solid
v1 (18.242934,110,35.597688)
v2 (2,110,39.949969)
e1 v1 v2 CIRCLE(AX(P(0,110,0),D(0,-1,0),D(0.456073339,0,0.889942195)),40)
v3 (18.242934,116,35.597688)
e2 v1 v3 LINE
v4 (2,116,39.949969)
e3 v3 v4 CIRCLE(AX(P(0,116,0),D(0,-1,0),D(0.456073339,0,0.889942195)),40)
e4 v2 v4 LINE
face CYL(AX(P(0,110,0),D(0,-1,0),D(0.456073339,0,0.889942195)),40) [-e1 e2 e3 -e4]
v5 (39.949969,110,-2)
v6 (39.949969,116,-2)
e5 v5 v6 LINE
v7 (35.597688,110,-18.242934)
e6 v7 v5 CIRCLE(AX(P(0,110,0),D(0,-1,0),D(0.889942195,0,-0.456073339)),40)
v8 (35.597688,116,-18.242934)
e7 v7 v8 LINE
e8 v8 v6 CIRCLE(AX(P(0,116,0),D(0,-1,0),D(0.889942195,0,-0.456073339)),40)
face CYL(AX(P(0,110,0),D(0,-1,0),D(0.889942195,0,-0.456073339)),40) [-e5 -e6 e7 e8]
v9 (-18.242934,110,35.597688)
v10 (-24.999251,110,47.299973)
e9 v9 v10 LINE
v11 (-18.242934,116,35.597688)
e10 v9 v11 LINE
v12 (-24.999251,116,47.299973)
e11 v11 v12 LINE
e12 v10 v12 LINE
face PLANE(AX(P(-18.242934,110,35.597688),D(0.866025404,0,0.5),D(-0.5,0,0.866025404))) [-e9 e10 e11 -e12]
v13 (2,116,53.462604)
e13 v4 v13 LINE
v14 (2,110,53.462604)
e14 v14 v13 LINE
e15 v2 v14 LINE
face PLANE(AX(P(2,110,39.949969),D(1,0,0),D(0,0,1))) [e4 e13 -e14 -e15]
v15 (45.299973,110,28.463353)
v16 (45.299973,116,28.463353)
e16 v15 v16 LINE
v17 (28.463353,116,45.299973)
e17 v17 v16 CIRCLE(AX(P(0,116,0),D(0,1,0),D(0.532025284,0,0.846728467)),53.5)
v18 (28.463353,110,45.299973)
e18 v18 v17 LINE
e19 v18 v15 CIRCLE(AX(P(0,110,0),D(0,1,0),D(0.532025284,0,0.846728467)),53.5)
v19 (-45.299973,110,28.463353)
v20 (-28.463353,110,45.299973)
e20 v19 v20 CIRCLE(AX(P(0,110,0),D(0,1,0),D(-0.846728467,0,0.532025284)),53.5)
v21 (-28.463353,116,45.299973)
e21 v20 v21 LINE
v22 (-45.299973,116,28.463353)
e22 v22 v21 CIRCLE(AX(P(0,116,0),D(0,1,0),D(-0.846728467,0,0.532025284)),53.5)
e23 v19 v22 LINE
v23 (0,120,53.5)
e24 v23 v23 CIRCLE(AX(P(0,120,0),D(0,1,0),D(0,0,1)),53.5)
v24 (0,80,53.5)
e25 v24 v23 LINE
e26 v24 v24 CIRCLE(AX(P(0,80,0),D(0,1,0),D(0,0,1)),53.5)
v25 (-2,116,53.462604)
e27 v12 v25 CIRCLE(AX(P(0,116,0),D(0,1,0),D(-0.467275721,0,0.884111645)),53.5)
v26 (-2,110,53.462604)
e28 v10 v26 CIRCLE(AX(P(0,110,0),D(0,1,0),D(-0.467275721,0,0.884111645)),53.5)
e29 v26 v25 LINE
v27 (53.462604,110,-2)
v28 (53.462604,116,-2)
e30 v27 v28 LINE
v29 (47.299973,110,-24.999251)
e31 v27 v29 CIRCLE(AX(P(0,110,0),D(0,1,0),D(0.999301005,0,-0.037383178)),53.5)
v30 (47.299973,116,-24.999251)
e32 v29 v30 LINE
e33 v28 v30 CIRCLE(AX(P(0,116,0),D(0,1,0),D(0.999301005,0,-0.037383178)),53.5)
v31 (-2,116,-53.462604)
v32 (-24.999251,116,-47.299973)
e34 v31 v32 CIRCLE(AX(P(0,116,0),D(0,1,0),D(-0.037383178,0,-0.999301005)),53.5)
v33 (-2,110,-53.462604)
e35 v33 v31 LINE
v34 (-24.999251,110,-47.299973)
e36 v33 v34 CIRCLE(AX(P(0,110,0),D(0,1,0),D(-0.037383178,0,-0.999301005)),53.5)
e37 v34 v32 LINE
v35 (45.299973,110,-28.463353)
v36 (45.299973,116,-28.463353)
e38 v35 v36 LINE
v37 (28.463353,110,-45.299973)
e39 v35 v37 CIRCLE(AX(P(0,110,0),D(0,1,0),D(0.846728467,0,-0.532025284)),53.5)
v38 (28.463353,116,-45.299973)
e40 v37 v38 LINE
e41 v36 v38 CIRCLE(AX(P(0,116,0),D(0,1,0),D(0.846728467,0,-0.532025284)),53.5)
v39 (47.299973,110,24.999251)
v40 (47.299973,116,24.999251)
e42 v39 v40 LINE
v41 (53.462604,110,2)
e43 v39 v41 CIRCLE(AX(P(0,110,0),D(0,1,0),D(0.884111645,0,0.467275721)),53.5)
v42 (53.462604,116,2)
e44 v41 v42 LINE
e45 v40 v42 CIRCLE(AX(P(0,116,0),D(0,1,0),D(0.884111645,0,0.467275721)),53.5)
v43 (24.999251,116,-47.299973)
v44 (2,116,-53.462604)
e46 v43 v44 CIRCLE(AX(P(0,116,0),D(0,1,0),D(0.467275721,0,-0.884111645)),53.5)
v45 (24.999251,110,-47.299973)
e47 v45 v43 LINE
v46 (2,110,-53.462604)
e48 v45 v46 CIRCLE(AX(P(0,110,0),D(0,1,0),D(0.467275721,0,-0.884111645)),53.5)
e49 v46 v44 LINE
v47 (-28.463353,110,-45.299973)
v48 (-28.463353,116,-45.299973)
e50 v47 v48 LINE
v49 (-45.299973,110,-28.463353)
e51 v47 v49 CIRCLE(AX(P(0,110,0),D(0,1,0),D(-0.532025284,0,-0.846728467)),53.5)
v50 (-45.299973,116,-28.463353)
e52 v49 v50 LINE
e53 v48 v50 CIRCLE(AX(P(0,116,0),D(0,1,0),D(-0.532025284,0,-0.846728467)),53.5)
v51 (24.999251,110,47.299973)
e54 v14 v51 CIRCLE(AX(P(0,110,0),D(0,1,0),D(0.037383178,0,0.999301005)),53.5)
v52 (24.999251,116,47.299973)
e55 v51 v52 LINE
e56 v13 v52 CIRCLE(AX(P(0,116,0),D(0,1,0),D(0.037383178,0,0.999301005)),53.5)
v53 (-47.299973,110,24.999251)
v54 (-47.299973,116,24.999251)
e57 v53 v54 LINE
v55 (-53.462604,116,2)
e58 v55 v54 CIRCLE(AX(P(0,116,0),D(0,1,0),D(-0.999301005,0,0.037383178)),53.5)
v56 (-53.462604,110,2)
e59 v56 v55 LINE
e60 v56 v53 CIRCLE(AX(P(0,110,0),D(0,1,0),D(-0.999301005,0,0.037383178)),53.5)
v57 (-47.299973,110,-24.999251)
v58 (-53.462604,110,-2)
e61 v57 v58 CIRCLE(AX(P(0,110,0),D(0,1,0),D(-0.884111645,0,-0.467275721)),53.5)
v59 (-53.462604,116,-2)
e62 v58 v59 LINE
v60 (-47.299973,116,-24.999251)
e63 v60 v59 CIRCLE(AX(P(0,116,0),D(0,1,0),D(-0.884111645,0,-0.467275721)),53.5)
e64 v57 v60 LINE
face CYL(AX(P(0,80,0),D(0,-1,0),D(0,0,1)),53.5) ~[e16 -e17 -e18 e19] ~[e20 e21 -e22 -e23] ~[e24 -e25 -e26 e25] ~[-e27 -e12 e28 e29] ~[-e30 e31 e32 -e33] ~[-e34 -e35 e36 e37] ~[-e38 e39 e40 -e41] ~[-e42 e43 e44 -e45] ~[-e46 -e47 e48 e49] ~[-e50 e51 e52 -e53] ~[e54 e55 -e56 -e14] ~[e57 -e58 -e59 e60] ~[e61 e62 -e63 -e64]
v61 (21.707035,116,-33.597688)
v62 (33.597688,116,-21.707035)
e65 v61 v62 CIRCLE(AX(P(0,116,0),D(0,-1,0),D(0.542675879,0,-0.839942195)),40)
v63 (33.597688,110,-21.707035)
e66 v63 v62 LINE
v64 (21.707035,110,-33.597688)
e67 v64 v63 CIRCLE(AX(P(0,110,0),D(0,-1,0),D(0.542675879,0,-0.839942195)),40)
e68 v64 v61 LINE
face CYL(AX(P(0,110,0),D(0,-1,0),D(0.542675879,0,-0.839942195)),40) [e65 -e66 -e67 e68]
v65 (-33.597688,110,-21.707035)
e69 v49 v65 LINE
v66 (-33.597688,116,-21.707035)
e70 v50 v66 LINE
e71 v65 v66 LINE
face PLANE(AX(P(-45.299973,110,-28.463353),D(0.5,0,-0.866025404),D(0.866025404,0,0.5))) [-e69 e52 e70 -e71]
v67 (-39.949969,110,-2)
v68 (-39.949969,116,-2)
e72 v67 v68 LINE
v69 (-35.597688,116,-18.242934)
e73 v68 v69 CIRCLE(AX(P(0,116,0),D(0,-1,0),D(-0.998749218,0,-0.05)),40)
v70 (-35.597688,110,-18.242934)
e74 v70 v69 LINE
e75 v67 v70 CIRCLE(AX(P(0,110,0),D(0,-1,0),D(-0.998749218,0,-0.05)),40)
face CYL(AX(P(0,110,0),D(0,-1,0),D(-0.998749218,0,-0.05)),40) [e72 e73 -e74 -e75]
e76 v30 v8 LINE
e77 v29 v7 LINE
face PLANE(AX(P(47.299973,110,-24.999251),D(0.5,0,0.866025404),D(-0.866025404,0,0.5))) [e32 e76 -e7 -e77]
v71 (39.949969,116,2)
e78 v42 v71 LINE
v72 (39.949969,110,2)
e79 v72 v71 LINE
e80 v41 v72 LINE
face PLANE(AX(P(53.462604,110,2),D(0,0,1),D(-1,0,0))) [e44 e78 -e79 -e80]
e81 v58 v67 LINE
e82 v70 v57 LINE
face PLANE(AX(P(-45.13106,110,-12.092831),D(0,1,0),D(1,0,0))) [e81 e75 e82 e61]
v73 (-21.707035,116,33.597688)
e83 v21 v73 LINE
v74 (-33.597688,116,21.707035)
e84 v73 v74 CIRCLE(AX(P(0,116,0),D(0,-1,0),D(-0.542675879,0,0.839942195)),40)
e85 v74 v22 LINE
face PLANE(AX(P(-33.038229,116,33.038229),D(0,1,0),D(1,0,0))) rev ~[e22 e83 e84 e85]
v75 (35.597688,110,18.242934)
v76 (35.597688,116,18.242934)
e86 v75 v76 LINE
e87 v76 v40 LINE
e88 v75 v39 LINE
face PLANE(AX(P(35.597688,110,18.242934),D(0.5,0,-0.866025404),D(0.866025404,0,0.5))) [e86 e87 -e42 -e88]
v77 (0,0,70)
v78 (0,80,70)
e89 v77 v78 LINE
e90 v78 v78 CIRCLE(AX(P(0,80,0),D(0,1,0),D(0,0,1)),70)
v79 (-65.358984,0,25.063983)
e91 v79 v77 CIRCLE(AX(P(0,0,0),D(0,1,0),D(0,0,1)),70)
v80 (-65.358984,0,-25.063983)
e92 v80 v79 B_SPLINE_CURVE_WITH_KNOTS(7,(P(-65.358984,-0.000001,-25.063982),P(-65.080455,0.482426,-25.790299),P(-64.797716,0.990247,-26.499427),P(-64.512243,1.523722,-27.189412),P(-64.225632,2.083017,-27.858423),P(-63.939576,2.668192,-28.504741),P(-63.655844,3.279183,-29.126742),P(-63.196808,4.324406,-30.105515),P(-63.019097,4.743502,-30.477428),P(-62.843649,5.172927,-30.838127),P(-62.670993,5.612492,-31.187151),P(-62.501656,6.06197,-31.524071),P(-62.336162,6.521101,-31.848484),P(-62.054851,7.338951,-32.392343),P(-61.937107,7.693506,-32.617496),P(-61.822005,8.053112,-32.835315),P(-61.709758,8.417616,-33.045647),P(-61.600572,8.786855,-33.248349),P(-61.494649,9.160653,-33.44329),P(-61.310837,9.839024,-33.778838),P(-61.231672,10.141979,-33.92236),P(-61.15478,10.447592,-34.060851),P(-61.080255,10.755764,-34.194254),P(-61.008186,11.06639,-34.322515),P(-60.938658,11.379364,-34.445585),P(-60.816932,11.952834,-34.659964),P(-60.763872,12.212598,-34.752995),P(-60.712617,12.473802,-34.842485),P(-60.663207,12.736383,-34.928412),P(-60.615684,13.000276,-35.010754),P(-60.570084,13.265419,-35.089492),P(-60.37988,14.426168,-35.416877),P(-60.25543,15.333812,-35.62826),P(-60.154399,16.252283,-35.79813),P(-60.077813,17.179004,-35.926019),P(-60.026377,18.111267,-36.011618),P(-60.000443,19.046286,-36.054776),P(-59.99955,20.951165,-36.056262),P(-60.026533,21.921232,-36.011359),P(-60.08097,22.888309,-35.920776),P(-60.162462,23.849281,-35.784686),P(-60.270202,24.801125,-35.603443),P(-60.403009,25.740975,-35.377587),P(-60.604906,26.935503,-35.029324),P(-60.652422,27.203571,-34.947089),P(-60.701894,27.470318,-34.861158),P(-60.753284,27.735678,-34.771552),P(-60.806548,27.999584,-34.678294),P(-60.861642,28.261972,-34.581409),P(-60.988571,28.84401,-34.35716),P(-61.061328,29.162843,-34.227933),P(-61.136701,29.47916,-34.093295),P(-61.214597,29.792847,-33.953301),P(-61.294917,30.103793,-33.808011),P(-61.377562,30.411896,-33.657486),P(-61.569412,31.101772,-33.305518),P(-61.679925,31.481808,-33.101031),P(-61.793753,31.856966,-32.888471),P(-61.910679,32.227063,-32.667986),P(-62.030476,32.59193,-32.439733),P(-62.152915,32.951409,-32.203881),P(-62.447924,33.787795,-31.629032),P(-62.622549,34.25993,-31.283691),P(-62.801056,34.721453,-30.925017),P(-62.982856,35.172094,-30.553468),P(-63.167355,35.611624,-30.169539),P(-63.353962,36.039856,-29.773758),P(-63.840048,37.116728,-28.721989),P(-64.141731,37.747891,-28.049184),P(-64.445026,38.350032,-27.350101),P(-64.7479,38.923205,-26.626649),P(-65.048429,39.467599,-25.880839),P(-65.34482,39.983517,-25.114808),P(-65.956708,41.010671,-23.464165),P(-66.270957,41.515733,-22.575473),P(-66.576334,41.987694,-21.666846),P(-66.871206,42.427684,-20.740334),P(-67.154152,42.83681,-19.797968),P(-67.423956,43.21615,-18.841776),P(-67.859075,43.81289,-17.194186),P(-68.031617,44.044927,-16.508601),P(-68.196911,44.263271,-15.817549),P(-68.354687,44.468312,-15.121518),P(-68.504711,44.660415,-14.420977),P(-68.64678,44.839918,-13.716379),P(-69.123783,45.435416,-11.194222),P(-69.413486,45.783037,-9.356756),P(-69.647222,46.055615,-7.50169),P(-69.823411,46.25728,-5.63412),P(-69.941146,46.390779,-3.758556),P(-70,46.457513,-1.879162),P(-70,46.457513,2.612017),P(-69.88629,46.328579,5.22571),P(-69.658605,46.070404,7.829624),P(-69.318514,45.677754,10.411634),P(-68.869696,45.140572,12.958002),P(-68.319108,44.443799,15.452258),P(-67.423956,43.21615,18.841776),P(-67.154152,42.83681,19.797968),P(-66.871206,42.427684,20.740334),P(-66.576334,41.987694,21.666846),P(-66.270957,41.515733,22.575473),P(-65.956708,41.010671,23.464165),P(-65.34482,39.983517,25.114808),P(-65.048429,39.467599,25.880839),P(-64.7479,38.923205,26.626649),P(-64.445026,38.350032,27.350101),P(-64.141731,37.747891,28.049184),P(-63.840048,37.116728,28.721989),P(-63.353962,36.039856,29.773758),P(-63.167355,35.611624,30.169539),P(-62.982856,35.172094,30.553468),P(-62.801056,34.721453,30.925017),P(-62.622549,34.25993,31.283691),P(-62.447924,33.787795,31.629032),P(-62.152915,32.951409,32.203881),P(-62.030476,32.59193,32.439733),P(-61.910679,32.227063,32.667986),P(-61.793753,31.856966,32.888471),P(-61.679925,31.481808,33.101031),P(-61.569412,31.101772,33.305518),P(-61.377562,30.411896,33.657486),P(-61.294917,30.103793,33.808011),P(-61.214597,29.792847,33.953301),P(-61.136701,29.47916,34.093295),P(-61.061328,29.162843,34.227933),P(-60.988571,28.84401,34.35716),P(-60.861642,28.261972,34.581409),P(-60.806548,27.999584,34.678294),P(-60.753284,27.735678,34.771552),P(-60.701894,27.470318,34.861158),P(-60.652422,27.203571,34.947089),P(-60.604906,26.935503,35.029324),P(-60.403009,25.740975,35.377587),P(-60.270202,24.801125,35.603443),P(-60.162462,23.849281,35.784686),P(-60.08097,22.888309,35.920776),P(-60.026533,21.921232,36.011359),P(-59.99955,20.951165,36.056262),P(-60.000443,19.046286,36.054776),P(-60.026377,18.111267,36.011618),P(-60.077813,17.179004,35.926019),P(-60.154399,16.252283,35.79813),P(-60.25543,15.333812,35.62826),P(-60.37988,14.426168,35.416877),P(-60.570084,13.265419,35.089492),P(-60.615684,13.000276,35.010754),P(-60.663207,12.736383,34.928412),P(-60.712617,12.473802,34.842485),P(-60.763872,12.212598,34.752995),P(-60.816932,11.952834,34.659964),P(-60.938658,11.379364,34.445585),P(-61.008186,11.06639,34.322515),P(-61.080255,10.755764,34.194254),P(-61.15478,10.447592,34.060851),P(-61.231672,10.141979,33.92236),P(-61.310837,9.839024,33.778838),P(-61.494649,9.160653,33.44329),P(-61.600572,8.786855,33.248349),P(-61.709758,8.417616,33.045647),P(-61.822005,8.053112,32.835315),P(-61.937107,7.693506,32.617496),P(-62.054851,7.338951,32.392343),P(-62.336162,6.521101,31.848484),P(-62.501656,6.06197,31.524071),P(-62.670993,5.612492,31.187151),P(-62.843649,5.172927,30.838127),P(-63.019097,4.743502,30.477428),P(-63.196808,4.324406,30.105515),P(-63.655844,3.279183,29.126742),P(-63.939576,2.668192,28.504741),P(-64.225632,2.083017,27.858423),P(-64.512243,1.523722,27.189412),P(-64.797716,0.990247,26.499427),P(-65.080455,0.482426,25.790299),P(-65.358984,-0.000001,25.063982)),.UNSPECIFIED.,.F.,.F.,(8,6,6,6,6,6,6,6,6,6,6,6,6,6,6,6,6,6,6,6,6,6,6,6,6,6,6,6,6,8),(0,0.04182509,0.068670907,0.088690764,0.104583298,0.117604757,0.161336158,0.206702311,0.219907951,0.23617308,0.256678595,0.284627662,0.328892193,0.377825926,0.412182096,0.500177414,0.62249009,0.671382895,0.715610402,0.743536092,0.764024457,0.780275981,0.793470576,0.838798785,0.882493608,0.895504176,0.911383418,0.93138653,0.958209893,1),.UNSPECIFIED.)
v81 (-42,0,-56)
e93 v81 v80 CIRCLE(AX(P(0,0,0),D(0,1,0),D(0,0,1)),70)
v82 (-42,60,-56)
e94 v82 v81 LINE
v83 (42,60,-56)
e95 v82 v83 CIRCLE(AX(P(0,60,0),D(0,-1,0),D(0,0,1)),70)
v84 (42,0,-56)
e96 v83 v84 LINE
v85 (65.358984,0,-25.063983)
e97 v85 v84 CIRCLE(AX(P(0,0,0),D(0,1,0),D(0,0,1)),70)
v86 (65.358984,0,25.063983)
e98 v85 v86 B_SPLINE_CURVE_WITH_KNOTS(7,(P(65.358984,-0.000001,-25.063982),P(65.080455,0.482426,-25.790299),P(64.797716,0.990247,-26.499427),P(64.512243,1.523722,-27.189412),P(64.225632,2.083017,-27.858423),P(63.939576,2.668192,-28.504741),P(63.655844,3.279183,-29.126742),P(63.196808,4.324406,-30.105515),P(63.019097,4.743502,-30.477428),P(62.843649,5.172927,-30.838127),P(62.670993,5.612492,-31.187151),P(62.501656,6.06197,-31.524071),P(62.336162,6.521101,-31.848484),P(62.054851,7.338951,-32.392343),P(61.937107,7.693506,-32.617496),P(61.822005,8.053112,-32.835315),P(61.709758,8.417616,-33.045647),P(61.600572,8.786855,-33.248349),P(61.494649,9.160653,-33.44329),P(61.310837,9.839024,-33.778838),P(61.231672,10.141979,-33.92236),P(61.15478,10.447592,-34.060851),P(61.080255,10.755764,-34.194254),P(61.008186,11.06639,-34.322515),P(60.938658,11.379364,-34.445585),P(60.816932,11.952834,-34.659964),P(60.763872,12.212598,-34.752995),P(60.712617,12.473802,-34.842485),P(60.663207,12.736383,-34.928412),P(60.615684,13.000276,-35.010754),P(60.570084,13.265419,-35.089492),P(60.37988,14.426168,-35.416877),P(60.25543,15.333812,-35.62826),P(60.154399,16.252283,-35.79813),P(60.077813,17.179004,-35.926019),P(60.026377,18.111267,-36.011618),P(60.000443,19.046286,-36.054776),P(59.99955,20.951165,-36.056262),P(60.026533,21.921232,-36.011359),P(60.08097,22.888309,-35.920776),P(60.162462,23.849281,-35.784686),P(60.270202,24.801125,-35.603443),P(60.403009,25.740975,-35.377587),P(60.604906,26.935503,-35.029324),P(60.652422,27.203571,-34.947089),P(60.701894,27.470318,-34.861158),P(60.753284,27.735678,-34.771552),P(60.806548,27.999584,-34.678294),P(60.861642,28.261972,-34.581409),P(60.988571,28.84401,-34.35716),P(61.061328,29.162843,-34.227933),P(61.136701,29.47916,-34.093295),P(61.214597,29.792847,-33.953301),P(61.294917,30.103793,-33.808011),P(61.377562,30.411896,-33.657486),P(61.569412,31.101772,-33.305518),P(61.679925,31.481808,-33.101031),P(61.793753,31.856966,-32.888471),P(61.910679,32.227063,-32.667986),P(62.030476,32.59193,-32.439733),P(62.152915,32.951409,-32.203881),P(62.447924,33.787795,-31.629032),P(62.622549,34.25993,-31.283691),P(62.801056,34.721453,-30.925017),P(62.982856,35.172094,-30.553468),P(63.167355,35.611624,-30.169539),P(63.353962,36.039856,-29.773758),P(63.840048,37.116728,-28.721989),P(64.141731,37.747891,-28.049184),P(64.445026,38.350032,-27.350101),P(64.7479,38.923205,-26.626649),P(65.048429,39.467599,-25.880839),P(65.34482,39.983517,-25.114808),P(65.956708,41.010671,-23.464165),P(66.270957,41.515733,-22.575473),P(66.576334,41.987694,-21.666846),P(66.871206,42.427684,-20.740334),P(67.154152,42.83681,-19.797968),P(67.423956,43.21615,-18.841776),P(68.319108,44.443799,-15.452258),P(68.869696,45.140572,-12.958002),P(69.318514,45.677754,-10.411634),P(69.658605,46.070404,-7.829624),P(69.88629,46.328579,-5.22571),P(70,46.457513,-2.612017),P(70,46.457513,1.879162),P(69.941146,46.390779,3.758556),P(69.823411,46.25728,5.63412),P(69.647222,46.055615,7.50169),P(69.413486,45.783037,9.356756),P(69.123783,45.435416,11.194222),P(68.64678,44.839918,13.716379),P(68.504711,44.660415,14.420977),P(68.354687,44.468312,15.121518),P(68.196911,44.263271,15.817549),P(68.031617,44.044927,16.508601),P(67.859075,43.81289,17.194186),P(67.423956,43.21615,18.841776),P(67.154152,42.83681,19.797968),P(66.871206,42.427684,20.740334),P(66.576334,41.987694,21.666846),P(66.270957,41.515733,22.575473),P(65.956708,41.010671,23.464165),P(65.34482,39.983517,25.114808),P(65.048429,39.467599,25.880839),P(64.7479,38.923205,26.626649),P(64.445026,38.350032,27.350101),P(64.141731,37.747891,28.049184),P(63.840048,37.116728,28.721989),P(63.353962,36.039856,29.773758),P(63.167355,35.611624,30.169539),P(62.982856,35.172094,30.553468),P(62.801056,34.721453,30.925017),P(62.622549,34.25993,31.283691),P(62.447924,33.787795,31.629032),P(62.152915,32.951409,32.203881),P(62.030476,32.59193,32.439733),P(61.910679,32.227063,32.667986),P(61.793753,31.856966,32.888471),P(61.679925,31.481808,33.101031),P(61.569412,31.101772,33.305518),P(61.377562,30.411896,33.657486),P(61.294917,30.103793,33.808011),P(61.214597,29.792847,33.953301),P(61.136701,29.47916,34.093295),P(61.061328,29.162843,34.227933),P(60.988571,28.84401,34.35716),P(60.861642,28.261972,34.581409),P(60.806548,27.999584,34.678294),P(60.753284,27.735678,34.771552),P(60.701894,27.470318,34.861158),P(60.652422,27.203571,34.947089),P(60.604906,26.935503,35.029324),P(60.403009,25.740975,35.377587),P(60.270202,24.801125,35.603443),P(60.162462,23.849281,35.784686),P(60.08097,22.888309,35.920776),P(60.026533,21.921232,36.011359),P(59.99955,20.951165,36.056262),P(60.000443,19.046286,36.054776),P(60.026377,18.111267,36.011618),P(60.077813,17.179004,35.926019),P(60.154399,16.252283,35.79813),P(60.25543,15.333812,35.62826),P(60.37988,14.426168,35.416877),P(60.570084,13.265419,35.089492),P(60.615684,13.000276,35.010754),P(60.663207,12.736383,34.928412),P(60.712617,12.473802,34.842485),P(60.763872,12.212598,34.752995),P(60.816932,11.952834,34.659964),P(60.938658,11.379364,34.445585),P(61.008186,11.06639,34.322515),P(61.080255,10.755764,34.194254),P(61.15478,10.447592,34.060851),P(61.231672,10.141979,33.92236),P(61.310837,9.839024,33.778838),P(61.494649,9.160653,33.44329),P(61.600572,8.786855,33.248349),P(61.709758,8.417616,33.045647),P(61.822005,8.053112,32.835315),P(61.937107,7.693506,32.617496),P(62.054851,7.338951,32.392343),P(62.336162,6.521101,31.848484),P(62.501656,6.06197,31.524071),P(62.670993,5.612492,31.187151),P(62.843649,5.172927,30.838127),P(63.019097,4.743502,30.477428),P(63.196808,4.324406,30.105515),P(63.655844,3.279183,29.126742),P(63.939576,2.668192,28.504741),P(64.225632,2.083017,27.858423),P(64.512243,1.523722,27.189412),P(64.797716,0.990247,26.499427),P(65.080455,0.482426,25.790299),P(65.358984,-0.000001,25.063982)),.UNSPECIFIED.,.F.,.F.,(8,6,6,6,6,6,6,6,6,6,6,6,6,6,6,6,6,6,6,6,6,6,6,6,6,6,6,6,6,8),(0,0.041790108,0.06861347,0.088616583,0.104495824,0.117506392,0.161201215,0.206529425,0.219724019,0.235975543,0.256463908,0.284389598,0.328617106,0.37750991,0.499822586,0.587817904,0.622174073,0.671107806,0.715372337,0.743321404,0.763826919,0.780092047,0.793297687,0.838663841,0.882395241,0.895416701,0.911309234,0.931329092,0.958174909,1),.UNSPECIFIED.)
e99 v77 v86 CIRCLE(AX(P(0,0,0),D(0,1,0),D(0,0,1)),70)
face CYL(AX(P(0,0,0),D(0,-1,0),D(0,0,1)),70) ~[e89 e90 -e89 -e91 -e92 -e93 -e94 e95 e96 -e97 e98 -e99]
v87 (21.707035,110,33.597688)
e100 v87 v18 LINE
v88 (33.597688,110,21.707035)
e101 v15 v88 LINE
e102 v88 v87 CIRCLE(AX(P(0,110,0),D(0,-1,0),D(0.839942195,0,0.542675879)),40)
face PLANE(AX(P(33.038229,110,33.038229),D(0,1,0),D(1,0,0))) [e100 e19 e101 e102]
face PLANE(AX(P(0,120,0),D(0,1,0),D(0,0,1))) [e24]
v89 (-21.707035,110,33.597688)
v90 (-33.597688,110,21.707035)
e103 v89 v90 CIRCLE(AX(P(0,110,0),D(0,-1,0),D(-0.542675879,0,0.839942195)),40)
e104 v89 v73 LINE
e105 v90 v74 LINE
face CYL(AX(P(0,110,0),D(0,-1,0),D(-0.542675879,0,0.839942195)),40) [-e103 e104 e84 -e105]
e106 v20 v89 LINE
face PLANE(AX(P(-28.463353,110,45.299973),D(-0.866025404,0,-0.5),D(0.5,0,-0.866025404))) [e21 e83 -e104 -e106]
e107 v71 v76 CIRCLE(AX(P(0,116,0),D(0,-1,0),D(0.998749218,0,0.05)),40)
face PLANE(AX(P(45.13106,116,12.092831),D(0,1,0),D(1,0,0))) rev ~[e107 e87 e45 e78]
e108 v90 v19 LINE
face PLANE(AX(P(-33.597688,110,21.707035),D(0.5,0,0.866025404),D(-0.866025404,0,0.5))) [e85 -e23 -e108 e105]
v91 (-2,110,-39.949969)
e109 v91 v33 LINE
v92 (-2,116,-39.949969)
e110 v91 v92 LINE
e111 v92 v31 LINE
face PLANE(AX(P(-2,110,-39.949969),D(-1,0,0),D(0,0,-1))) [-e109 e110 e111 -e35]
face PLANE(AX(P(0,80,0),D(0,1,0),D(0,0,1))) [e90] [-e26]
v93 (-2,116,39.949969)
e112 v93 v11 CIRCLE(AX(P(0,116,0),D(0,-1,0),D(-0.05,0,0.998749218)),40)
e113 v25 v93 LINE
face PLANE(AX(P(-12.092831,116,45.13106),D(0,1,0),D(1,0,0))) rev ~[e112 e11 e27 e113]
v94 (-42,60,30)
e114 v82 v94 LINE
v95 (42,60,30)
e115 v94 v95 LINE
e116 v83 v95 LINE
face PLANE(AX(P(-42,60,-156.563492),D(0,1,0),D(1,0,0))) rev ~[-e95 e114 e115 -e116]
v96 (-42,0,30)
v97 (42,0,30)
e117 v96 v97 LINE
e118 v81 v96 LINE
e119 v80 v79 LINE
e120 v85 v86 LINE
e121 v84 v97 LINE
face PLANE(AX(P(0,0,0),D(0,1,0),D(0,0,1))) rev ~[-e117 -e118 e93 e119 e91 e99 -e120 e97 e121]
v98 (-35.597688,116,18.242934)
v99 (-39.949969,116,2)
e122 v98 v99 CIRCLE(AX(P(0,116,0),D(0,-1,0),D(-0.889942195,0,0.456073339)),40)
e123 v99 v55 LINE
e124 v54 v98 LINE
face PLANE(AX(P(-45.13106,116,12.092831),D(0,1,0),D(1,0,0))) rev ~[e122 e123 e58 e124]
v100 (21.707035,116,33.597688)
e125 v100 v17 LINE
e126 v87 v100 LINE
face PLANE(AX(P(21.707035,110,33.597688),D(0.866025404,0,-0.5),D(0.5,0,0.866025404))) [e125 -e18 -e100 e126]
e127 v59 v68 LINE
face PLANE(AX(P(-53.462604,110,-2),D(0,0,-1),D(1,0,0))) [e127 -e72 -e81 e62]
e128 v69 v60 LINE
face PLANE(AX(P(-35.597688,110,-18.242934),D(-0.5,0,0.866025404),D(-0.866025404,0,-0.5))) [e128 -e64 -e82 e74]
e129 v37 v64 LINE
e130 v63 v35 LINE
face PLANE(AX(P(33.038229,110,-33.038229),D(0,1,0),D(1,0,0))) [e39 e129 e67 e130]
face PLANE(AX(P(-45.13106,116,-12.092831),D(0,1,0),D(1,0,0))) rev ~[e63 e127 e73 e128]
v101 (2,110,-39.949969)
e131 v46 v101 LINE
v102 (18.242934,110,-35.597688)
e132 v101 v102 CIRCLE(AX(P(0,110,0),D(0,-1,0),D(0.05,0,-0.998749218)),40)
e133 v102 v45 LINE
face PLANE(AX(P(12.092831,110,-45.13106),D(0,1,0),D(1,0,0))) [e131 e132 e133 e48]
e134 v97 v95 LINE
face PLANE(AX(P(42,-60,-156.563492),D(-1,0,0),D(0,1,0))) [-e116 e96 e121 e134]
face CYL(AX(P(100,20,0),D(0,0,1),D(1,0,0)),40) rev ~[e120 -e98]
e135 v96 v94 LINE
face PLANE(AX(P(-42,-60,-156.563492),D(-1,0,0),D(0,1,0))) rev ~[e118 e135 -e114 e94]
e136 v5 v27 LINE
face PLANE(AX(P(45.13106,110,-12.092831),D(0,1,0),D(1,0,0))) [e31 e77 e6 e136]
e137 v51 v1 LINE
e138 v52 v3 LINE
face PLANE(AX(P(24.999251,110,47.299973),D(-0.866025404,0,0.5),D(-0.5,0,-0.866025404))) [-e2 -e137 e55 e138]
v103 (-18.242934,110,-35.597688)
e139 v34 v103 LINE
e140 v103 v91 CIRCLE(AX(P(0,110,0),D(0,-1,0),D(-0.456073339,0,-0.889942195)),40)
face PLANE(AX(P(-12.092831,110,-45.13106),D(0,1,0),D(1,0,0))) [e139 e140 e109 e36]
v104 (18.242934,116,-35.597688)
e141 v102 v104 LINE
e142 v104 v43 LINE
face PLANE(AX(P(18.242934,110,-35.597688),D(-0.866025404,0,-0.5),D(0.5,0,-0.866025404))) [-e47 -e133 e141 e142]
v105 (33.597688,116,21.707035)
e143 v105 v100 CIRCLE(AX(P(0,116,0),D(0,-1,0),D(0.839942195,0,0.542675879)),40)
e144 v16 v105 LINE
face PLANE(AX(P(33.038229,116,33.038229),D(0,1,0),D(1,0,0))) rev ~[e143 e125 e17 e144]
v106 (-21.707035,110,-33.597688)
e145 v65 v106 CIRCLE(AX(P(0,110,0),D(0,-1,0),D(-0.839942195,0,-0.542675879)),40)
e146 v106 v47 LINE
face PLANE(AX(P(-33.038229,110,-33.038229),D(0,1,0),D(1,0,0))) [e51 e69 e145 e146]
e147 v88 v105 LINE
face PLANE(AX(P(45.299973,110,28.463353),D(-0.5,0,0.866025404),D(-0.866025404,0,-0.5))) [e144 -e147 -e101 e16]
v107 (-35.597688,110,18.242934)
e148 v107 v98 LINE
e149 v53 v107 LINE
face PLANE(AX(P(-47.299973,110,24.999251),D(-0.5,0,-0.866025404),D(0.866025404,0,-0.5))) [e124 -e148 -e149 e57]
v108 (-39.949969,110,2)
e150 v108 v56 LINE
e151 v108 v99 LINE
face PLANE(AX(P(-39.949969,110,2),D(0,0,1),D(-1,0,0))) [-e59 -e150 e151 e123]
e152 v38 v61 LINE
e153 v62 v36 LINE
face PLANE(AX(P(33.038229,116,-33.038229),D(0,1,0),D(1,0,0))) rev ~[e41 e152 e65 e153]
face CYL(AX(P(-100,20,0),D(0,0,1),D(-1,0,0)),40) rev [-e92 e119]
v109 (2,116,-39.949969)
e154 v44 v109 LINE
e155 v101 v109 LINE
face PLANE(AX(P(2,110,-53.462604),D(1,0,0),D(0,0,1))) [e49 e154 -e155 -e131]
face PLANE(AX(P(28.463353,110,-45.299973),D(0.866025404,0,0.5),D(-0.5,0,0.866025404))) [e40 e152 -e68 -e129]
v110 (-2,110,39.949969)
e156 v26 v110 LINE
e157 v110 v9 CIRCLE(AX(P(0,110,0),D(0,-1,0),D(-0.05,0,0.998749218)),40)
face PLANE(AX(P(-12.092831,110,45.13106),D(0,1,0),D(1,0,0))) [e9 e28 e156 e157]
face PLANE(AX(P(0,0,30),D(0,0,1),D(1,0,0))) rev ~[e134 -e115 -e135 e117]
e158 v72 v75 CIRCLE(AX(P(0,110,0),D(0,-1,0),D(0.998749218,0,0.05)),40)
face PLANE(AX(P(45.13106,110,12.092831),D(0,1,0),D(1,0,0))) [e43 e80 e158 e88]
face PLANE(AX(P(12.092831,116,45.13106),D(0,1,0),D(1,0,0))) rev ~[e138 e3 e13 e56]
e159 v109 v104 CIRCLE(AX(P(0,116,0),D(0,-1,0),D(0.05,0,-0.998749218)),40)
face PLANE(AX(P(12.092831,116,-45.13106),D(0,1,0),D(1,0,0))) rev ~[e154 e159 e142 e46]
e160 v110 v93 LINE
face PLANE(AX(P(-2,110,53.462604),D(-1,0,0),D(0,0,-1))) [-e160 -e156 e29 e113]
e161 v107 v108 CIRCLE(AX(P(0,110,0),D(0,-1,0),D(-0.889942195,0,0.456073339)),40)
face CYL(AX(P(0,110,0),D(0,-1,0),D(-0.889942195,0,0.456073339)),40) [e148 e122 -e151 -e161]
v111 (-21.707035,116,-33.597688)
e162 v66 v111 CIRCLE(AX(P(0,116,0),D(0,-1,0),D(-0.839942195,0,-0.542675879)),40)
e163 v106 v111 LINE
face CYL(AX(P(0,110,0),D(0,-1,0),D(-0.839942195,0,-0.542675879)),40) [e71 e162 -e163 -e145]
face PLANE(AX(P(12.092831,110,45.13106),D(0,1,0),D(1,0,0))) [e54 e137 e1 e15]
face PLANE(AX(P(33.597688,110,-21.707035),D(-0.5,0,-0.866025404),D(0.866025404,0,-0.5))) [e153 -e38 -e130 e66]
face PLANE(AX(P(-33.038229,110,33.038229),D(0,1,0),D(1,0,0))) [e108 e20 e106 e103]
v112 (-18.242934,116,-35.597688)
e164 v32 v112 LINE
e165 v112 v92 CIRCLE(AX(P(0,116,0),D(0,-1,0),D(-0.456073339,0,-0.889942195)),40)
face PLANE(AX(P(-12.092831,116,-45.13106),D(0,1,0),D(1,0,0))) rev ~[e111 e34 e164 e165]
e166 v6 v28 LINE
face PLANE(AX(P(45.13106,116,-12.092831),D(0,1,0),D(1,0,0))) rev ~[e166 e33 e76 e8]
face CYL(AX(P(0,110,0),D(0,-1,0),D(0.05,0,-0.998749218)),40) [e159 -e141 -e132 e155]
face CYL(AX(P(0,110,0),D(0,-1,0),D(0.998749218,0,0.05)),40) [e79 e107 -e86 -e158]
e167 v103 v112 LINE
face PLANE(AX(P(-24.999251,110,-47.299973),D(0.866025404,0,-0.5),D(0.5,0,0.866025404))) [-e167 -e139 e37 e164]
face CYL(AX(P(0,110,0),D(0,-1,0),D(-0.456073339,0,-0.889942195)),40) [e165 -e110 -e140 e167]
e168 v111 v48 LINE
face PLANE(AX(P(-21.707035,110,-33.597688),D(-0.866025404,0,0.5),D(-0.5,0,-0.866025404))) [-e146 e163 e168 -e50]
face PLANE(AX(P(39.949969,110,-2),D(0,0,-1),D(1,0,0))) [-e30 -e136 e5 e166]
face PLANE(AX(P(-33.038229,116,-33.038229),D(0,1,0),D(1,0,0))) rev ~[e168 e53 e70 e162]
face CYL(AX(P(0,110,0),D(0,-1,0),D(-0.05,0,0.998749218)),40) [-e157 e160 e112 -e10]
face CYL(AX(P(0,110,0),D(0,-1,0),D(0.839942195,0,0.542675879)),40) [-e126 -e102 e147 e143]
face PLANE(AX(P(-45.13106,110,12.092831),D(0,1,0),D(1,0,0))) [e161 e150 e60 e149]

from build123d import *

# Parameters (mm, degrees)
SKETCH_1_R               = 70
EXTRUDE_1_DEPTH          = 80
SKETCH_2_R               = 53.5
EXTRUDE_2_DEPTH          = 40
CUT_EXTRUDE_1_DEPTH      = 6
SKETCH_4_R               = 40
CUT_EXTRUDE_2_DEPTH      = 156.563491861
CUT_EXTRUDE_3_DEPTH      = 30
CUT_EXTRUDE_3_DEPTH_BACK = 156.563491951
SKETCH_5_W               = 84
SKETCH_5_H               = 120


with BuildPart() as part:
    # 草图1 → 凸台-拉伸1 (new body)
    with BuildSketch(Plane(origin=(0, 0, 0), x_dir=(1, 0, 0), z_dir=(0, 1, 0))):
        with Locations(Location((0, 0, 0), (0, 0, 270))):
            Circle(SKETCH_1_R)
    extrude(amount=EXTRUDE_1_DEPTH)

    # 草图2 → 凸台-拉伸2 (add)
    with BuildSketch(Plane(origin=(0, 80, 0), x_dir=(1, 0, 0), z_dir=(0, 1, 0))):
        with Locations(Location((0, 0, 0), (0, 0, 270))):
            Circle(SKETCH_2_R)
    extrude(amount=EXTRUDE_2_DEPTH)

    # 草图3 → 切除-拉伸1 (cut)
    with BuildSketch(Plane(origin=(0, 110, 0), x_dir=(1, 0, 0), z_dir=(0, 1, 0))):
        with BuildLine():
            ThreePointArc((-35.597687784, -18.242933548), (-38.637033052, -10.352761804), (-39.949968711, -2))
            Line((-39.949968711, -2), (-53.462603753, -2))
            ThreePointArc((-53.462603753, -2), (-51.677031706, -13.846818913), (-47.299973002, -24.999251069))
            Line((-47.299973002, -24.999251069), (-35.597687784, -18.242933548))
        make_face()
        with BuildLine():
            ThreePointArc((-39.949968711, 2), (-38.637033052, 10.352761804), (-35.597687784, 18.242933548))
            Line((-35.597687784, 18.242933548), (-47.299973002, 24.999251069))
            ThreePointArc((-47.299973002, 24.999251069), (-51.677031706, 13.846818913), (-53.462603753, 2))
            Line((-53.462603753, 2), (-39.949968711, 2))
        make_face()
        with BuildLine():
            ThreePointArc((-33.597687784, 21.707035163), (-28.284271247, 28.284271247), (-21.707035163, 33.597687784))
            Line((-21.707035163, 33.597687784), (-28.463352684, 45.299973002))
            ThreePointArc((-28.463352684, 45.299973002), (-37.830212793, 37.830212793), (-45.299973002, 28.463352684))
            Line((-45.299973002, 28.463352684), (-33.597687784, 21.707035163))
        make_face()
        with BuildLine():
            ThreePointArc((-18.242933548, 35.597687784), (-10.352761804, 38.637033052), (-2, 39.949968711))
            Line((-2, 39.949968711), (-2, 53.462603753))
            ThreePointArc((-2, 53.462603753), (-13.846818913, 51.677031706), (-24.999251069, 47.299973002))
            Line((-24.999251069, 47.299973002), (-18.242933548, 35.597687784))
        make_face()
        with BuildLine():
            Line((2, 53.462603753), (2, 39.949968711))
            ThreePointArc((2, 39.949968711), (10.352761804, 38.637033052), (18.242933548, 35.597687784))
            Line((18.242933548, 35.597687784), (24.999251069, 47.299973002))
            ThreePointArc((24.999251069, 47.299973002), (13.846818913, 51.677031706), (2, 53.462603753))
        make_face()
        with BuildLine():
            Line((28.463352684, 45.299973002), (21.707035163, 33.597687784))
            ThreePointArc((21.707035163, 33.597687784), (28.284271247, 28.284271247), (33.597687784, 21.707035163))
            Line((33.597687784, 21.707035163), (45.299973002, 28.463352684))
            ThreePointArc((45.299973002, 28.463352684), (37.830212793, 37.830212793), (28.463352684, 45.299973002))
        make_face()
        with BuildLine():
            Line((47.299973002, 24.999251069), (35.597687784, 18.242933548))
            ThreePointArc((35.597687784, 18.242933548), (38.637033052, 10.352761804), (39.949968711, 2))
            Line((39.949968711, 2), (53.462603753, 2))
            ThreePointArc((53.462603753, 2), (51.677031706, 13.846818913), (47.299973002, 24.999251069))
        make_face()
        with BuildLine():
            Line((53.462603753, -2), (39.949968711, -2))
            ThreePointArc((39.949968711, -2), (38.637033052, -10.352761804), (35.597687784, -18.242933548))
            Line((35.597687784, -18.242933548), (47.299973002, -24.999251069))
            ThreePointArc((47.299973002, -24.999251069), (51.677031706, -13.846818913), (53.462603753, -2))
        make_face()
        with BuildLine():
            Line((45.299973002, -28.463352684), (33.597687784, -21.707035163))
            ThreePointArc((33.597687784, -21.707035163), (28.284271247, -28.284271247), (21.707035163, -33.597687784))
            Line((21.707035163, -33.597687784), (28.463352684, -45.299973002))
            ThreePointArc((28.463352684, -45.299973002), (37.830212793, -37.830212793), (45.299973002, -28.463352684))
        make_face()
        with BuildLine():
            Line((24.999251069, -47.299973002), (18.242933548, -35.597687784))
            ThreePointArc((18.242933548, -35.597687784), (10.352761804, -38.637033052), (2, -39.949968711))
            Line((2, -39.949968711), (2, -53.462603753))
            ThreePointArc((2, -53.462603753), (13.846818913, -51.677031706), (24.999251069, -47.299973002))
        make_face()
        with BuildLine():
            ThreePointArc((-2, -39.949968711), (-10.352761804, -38.637033052), (-18.242933548, -35.597687784))
            Line((-18.242933548, -35.597687784), (-24.999251069, -47.299973002))
            ThreePointArc((-24.999251069, -47.299973002), (-13.846818913, -51.677031706), (-2, -53.462603753))
            Line((-2, -53.462603753), (-2, -39.949968711))
        make_face()
        with BuildLine():
            ThreePointArc((-21.707035163, -33.597687784), (-28.284271247, -28.284271247), (-33.597687784, -21.707035163))
            Line((-33.597687784, -21.707035163), (-45.299973002, -28.463352684))
            ThreePointArc((-45.299973002, -28.463352684), (-37.830212793, -37.830212793), (-28.463352684, -45.299973002))
            Line((-28.463352684, -45.299973002), (-21.707035163, -33.597687784))
        make_face()
    extrude(amount=CUT_EXTRUDE_1_DEPTH, mode=Mode.SUBTRACT)

    # 草图4 → 切除-拉伸2 (cut, symmetric)
    with BuildSketch(Plane.XY):
        with Locations((100, 20)):
            Circle(SKETCH_4_R)
    cut_extrude_2 = extrude(amount=CUT_EXTRUDE_2_DEPTH, both=True, mode=Mode.SUBTRACT)

    # 镜向1: 切除-拉伸2 across plane
    add(cut_extrude_2.mirror(Plane(origin=(0, 0, 0), x_dir=(0, 0, 1), z_dir=(1, 0, 0))), mode=Mode.SUBTRACT)

    # 草图5 → 切除-拉伸3 (cut, two sides: drawn at the far end of the back side and taken through both)
    with BuildSketch(Plane.XY.offset(-CUT_EXTRUDE_3_DEPTH_BACK)):
        Rectangle(SKETCH_5_W, SKETCH_5_H)
    extrude(amount=CUT_EXTRUDE_3_DEPTH + CUT_EXTRUDE_3_DEPTH_BACK, mode=Mode.SUBTRACT)


solid = part.part
